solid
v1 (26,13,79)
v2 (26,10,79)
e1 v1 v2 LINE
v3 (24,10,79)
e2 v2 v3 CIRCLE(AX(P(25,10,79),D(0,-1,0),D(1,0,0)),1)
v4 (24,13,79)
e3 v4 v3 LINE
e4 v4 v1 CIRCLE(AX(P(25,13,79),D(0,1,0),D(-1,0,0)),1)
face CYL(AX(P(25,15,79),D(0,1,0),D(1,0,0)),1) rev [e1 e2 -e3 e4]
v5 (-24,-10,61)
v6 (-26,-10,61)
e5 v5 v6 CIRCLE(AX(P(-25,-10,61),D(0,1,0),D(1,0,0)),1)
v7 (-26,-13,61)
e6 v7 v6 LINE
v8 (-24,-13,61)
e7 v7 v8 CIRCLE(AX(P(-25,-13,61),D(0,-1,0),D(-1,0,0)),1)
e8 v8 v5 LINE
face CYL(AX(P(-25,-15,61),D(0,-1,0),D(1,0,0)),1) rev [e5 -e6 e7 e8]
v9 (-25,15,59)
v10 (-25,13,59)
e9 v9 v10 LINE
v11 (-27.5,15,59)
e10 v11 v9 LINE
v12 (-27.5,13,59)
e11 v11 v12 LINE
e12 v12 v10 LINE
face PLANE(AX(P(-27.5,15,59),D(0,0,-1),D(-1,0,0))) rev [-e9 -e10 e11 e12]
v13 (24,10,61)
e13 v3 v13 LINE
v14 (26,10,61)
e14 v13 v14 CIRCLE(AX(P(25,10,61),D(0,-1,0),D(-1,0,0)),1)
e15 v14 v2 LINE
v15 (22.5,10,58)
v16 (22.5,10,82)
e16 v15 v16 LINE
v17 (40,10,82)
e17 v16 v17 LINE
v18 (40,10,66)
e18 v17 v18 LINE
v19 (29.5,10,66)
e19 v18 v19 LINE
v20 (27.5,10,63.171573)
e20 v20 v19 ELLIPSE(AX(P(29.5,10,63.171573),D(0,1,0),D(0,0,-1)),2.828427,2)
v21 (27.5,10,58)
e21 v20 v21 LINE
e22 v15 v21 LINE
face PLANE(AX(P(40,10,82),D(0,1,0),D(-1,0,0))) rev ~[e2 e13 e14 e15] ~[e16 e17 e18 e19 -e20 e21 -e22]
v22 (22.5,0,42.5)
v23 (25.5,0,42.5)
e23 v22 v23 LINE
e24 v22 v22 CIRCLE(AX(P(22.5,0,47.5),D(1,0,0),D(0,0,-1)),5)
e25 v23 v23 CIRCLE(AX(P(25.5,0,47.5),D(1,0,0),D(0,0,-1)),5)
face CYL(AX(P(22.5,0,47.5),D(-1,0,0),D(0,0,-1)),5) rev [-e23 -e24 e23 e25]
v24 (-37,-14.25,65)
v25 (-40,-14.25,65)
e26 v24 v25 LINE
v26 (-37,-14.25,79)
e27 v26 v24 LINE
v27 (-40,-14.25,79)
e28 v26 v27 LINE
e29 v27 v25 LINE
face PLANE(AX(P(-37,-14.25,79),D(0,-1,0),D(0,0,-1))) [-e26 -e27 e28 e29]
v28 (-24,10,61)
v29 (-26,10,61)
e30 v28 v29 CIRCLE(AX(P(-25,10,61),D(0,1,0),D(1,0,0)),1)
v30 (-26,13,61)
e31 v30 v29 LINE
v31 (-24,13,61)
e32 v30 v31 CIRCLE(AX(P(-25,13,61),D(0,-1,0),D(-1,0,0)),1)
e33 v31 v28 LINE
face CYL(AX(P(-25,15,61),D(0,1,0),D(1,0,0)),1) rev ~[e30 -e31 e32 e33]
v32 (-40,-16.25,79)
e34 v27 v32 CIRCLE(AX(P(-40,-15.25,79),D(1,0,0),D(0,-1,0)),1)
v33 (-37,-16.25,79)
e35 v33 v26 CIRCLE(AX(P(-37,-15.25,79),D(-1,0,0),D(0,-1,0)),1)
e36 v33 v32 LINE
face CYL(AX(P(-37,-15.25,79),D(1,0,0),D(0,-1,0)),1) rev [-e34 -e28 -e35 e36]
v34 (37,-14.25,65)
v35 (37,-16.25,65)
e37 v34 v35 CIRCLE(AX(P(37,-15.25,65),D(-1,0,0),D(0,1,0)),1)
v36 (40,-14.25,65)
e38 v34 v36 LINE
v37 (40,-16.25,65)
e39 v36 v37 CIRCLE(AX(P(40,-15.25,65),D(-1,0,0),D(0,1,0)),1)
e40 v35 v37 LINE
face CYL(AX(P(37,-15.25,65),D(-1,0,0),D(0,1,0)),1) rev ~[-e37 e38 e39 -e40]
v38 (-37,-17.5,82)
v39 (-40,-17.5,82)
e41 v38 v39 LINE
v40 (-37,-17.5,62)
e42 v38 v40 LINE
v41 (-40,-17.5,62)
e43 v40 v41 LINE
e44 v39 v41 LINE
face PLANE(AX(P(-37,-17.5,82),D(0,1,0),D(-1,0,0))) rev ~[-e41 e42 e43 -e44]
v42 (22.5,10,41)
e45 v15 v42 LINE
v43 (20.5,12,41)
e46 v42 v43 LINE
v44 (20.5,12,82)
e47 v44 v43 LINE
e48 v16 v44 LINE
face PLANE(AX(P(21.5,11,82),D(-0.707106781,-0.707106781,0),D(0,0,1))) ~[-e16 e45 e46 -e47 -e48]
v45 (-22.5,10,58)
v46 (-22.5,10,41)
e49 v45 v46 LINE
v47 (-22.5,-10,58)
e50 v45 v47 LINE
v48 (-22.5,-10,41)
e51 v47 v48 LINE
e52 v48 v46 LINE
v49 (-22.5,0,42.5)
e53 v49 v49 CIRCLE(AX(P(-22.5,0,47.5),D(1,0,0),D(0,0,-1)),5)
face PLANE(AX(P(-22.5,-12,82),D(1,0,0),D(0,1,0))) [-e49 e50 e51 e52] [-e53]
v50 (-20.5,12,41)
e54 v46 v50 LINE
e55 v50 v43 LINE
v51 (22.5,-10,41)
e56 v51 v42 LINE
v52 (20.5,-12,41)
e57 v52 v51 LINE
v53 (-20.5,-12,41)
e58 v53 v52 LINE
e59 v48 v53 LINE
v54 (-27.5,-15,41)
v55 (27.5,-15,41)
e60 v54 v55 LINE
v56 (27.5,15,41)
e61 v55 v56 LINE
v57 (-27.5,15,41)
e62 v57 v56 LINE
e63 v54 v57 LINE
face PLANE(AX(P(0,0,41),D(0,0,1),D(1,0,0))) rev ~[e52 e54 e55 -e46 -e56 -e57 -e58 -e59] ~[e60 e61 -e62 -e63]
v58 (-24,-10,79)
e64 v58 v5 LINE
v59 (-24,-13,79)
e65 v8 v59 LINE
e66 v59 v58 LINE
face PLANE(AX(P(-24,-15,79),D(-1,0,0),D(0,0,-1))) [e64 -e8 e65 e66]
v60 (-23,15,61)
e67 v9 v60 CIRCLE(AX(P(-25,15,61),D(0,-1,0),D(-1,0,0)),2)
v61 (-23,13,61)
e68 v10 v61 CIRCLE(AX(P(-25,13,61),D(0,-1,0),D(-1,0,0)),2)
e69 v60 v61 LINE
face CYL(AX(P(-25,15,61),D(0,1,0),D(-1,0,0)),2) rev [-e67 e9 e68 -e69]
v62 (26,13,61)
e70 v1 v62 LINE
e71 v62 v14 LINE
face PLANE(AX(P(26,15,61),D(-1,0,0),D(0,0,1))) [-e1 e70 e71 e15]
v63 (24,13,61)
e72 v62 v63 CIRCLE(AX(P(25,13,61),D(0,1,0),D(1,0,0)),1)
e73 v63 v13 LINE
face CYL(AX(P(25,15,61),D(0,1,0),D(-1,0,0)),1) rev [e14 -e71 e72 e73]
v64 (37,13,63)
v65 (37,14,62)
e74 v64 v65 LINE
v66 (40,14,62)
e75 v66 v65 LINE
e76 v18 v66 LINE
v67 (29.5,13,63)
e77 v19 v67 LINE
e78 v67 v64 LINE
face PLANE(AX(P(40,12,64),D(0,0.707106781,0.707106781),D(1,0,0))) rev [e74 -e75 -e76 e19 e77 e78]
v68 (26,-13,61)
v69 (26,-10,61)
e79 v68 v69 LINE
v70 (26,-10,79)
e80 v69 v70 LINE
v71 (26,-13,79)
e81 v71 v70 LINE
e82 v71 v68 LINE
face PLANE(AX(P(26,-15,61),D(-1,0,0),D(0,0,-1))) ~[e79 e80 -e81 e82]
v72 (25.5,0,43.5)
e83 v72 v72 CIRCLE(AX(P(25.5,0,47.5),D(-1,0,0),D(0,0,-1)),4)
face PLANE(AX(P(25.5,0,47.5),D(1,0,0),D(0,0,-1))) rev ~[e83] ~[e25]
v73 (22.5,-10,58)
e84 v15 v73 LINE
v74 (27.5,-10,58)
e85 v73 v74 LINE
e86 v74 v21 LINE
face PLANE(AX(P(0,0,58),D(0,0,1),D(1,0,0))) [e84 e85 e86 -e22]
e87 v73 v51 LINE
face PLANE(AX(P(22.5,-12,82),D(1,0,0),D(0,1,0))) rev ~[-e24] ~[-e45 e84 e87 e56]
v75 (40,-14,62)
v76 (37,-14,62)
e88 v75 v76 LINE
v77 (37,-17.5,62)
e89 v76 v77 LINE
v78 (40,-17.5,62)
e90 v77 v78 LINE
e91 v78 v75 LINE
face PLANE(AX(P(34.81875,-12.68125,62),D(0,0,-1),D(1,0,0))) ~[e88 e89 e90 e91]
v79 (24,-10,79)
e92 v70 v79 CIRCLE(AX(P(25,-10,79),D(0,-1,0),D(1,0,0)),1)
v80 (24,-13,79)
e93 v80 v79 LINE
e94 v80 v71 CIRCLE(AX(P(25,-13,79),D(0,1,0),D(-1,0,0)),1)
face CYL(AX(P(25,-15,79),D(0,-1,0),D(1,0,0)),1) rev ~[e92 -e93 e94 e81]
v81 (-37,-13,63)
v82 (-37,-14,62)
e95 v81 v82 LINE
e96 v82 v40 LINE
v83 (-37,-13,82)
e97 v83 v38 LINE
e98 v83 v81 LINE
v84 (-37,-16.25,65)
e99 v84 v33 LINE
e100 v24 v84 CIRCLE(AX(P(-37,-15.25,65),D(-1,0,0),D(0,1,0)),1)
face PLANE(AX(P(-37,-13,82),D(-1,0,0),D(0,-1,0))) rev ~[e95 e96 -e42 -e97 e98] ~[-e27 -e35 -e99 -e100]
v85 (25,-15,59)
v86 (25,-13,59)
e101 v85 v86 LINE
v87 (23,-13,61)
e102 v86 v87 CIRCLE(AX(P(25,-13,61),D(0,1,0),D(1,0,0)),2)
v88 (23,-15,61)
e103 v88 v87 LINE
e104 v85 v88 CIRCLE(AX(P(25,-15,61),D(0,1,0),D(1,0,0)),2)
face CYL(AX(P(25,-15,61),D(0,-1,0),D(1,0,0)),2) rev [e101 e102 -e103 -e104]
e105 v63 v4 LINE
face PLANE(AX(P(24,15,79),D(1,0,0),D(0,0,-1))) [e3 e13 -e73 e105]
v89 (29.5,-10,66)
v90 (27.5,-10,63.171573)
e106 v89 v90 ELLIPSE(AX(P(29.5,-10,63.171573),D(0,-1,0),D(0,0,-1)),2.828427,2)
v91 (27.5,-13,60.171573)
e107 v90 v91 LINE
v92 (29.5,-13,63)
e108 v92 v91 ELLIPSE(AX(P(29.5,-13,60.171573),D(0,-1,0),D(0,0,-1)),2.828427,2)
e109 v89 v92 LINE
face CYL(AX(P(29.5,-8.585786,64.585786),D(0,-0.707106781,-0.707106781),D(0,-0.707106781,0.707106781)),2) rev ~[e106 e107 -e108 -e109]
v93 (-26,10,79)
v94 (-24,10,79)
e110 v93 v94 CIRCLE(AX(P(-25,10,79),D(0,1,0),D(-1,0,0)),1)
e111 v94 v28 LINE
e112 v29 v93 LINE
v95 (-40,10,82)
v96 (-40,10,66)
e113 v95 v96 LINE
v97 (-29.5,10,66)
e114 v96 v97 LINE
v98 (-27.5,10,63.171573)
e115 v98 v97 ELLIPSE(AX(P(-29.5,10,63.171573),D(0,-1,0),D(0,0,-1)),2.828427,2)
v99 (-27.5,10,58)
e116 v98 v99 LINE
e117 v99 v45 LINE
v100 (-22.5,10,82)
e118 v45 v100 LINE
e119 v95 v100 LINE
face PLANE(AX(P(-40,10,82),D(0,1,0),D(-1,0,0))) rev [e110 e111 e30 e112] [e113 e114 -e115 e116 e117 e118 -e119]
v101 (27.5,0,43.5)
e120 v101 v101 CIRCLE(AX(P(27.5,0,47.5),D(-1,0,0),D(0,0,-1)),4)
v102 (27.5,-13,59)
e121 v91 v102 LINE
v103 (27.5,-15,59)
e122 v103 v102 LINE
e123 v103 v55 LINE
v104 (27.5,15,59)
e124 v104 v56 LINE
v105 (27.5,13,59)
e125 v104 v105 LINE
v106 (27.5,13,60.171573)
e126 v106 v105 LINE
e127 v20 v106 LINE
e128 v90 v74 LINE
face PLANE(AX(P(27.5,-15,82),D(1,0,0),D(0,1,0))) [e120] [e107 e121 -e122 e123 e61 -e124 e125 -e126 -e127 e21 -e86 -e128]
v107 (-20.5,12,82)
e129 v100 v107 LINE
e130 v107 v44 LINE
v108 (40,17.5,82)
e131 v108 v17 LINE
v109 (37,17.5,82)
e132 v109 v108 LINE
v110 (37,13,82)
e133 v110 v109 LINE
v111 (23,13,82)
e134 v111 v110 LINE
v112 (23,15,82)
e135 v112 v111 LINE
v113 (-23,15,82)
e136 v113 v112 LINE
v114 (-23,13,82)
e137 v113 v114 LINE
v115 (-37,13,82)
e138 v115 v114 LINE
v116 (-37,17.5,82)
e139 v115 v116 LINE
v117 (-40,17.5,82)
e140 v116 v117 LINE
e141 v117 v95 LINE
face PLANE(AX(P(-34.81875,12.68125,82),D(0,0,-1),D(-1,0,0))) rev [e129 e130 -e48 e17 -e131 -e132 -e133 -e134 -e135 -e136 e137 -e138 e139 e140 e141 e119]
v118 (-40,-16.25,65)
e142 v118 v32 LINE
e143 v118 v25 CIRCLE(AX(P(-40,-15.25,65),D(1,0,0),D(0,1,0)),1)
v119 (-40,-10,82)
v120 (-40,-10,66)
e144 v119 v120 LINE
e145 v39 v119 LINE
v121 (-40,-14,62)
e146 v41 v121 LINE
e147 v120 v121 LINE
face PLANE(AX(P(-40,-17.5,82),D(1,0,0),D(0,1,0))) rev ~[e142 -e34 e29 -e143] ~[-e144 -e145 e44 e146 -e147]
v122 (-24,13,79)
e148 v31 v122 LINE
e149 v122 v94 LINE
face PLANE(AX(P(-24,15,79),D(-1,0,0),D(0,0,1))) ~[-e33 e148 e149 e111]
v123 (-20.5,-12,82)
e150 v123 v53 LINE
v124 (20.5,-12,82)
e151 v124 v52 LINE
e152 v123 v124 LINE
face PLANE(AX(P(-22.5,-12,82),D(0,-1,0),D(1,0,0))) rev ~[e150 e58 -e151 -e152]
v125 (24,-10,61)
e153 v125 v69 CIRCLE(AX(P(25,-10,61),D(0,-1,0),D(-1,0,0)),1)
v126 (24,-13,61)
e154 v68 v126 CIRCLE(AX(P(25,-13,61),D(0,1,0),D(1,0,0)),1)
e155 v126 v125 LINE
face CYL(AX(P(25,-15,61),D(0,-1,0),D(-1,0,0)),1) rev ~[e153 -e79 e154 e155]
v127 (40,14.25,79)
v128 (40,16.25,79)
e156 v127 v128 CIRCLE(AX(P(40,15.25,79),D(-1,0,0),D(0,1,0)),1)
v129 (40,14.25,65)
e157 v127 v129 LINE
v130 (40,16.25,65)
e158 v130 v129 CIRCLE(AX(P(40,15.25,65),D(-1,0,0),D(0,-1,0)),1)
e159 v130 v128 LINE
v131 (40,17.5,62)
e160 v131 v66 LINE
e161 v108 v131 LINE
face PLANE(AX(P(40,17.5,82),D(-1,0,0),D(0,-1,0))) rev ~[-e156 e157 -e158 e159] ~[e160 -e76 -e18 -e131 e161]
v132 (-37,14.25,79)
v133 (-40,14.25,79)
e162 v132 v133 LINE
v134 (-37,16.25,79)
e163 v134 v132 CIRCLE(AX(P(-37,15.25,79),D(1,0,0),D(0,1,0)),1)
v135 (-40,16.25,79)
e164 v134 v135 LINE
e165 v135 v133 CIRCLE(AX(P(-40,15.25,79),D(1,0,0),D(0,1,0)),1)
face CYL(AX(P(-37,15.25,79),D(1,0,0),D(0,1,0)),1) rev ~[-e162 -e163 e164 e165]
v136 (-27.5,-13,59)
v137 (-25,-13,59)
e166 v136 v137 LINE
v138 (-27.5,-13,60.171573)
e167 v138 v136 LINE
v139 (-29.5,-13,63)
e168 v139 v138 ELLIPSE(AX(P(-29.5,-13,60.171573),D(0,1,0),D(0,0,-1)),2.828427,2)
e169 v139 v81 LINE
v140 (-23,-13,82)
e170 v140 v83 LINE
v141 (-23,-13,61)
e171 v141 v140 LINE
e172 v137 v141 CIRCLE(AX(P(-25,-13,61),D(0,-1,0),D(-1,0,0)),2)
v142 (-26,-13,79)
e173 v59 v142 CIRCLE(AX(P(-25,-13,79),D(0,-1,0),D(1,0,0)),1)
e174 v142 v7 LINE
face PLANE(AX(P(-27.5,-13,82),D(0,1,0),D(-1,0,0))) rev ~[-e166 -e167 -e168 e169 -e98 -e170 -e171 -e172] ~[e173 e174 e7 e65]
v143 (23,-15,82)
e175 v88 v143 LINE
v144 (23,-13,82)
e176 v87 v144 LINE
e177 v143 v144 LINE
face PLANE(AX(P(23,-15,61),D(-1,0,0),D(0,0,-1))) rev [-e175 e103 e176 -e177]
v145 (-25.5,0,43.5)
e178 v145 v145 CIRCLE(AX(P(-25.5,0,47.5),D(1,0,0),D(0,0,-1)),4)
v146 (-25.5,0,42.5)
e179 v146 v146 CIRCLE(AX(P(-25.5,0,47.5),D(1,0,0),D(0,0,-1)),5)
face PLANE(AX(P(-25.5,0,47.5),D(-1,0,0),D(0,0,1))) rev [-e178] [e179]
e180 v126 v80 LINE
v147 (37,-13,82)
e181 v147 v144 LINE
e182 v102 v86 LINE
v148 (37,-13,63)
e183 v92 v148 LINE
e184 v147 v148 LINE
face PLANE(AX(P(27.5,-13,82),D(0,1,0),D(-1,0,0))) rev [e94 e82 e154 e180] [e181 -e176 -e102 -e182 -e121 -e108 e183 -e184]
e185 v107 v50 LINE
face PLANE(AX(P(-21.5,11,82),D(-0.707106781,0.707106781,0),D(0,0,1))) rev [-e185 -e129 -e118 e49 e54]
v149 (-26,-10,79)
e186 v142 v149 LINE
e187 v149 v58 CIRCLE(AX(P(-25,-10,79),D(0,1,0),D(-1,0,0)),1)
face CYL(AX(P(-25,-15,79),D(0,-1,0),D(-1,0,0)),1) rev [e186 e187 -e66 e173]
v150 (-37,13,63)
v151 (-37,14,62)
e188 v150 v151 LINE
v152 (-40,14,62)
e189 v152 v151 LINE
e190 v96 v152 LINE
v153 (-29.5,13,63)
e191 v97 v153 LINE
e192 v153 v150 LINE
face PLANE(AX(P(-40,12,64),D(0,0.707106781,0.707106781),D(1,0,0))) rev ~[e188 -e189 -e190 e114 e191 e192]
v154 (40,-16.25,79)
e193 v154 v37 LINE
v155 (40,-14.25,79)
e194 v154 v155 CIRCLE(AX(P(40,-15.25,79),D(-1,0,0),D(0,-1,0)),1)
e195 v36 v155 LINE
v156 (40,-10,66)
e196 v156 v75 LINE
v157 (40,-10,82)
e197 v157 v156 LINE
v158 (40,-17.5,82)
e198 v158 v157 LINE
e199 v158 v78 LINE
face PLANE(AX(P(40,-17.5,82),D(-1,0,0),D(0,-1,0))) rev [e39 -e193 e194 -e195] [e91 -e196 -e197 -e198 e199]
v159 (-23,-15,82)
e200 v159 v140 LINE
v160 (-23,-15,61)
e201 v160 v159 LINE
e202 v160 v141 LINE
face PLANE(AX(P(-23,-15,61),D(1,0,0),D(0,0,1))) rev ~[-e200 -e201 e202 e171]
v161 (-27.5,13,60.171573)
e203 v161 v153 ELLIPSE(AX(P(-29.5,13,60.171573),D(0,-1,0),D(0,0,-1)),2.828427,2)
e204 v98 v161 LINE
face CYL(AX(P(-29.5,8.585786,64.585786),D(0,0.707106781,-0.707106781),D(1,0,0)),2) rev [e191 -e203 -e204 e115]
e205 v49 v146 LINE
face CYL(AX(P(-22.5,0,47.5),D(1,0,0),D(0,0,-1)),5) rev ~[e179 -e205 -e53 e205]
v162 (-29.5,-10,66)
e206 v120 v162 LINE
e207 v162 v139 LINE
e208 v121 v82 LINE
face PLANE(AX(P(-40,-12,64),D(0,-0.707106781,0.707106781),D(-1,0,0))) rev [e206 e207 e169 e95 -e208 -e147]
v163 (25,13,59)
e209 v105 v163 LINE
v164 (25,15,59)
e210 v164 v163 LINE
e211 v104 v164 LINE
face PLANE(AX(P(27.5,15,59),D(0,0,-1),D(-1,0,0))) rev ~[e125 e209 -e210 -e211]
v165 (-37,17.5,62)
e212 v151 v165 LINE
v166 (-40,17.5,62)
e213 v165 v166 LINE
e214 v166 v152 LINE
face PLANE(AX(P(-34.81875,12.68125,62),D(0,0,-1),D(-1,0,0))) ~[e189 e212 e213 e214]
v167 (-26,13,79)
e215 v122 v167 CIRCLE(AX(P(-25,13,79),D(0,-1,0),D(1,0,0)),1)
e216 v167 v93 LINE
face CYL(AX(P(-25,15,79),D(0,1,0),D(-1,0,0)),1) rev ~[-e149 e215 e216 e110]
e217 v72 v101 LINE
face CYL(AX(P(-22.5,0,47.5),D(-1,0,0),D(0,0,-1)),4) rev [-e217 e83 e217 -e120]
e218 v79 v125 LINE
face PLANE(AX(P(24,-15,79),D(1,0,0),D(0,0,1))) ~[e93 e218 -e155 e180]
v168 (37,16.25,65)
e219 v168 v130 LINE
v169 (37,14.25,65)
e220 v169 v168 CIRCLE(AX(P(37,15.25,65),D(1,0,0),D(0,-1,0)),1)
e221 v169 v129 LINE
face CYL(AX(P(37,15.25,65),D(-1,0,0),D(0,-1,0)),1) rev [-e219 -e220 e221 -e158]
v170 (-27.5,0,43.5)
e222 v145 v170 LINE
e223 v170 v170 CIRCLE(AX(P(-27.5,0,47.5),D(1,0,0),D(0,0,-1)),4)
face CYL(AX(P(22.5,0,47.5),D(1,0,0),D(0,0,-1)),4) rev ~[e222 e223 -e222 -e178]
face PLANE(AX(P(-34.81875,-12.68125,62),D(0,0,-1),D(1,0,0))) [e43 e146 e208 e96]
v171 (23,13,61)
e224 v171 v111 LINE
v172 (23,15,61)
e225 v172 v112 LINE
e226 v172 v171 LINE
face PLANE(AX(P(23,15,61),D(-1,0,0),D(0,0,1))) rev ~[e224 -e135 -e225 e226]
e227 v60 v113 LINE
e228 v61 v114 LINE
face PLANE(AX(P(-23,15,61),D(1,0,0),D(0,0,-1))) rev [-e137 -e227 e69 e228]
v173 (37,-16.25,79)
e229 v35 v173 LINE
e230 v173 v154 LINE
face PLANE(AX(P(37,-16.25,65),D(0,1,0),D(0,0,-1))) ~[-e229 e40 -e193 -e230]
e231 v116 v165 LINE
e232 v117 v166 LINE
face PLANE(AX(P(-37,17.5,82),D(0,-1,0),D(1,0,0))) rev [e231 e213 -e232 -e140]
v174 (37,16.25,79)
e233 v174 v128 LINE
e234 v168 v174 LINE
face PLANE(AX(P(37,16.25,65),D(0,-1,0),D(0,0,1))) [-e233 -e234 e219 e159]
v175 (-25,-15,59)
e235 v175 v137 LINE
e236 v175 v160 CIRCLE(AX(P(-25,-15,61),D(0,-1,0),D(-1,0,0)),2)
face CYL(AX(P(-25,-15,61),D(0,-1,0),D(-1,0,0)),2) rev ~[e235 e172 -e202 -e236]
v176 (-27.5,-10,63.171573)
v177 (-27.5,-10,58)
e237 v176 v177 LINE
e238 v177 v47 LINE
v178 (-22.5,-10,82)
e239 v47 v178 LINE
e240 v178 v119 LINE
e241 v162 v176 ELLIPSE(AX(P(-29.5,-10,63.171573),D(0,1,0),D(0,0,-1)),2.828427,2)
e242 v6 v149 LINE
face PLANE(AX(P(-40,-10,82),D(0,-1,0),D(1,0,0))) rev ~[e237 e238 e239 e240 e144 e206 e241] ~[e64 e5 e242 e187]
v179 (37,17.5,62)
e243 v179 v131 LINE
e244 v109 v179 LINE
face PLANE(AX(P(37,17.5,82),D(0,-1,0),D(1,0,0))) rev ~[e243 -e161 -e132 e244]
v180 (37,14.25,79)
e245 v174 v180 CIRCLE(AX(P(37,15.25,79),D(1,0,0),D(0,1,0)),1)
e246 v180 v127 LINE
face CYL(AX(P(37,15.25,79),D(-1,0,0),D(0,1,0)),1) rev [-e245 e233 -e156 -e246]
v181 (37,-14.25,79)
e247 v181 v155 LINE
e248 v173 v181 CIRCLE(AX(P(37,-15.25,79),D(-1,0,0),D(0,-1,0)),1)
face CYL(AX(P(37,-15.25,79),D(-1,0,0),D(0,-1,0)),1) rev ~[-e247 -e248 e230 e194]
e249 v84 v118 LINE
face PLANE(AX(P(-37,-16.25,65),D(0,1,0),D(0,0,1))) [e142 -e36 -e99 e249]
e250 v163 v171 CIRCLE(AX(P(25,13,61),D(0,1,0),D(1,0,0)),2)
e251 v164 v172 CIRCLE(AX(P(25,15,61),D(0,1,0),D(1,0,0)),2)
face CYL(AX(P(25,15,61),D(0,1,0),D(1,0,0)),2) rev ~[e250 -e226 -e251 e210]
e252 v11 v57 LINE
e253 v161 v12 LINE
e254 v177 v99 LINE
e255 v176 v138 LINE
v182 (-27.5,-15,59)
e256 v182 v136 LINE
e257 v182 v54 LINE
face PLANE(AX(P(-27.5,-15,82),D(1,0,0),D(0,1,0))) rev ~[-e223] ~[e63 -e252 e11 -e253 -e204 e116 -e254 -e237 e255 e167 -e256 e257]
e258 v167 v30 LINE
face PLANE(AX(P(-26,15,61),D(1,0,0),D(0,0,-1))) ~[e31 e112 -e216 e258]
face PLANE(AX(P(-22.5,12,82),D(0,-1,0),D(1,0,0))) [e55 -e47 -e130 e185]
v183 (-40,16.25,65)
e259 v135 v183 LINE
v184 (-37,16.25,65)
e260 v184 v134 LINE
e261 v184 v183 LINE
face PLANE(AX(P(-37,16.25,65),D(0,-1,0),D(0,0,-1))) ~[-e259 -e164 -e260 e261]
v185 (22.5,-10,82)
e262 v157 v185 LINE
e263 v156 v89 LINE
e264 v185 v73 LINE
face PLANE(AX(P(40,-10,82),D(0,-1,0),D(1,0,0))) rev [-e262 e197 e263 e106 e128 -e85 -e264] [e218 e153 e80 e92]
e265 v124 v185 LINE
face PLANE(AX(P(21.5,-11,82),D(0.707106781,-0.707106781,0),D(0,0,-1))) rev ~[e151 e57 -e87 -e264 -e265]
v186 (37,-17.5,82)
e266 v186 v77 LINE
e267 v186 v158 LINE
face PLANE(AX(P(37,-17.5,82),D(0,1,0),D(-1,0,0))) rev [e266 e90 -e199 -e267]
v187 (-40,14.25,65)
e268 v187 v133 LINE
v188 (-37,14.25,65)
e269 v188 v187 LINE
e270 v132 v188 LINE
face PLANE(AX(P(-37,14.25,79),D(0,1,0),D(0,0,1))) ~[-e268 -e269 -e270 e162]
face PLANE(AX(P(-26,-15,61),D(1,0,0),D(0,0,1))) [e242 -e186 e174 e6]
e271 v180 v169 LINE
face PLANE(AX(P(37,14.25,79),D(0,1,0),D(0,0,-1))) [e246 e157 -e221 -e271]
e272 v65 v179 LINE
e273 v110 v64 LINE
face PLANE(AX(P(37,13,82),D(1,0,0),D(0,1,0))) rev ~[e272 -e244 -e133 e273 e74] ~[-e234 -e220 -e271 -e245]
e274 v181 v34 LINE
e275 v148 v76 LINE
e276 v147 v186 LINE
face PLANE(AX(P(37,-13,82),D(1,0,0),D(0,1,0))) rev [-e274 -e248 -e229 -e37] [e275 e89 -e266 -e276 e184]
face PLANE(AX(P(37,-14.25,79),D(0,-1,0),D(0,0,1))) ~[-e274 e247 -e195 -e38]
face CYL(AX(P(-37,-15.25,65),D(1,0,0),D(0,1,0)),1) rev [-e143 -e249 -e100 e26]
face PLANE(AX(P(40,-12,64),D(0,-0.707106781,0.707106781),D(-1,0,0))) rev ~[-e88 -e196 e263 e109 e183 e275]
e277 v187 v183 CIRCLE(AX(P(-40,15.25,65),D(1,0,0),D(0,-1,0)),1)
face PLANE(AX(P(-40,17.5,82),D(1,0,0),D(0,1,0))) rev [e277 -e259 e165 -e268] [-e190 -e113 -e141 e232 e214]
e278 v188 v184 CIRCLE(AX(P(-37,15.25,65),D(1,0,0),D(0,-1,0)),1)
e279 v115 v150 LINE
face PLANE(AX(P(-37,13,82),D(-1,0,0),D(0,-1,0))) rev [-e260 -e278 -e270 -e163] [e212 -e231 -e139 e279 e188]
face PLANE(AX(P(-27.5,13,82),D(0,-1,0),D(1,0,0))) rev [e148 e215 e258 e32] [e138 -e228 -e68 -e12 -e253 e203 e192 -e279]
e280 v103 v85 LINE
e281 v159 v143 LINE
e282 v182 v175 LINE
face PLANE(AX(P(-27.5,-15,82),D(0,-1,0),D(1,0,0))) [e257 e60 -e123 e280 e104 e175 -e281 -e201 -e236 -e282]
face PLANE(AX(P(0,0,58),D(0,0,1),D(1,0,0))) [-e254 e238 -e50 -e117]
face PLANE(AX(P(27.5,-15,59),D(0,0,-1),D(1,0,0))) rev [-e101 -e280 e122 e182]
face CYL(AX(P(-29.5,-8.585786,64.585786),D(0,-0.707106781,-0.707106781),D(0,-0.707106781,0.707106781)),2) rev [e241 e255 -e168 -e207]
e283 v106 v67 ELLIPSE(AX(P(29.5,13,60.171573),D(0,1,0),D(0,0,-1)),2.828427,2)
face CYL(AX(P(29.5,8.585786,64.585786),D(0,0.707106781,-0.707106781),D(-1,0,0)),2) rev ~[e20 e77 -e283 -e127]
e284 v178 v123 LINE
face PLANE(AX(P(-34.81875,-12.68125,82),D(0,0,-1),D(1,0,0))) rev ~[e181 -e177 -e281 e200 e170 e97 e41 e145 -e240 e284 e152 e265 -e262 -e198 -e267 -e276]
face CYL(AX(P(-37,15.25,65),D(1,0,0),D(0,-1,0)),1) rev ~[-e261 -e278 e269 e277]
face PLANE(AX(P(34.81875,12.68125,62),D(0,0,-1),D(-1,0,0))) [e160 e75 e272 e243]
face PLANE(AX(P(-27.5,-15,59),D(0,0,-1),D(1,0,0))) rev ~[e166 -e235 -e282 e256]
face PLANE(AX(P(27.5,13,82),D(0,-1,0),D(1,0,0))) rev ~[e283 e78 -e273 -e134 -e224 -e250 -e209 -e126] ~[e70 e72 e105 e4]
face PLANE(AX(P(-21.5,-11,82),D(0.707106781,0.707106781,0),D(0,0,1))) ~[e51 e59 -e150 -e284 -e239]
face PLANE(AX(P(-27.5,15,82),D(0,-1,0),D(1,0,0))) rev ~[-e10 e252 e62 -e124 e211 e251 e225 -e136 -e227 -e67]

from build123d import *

# Parameters (mm, degrees)
SKIZZE2_W                       = 55
SKIZZE2_H                       = 30
SKIZZE2_W_2                     = 45
SKIZZE2_H_2                     = 24
AUFSATZ_LINEAR_AUSTRAGEN1_DEPTH = 41
SKIZZE5_W                       = 55
SKIZZE5_H                       = 20
SCHNITT_LINEAR_AUSTRAGEN3_DEPTH = 24
SKIZZE4_R                       = 4
SCHNITT_LINEAR_AUSTRAGEN1_DEPTH = 51
SKIZZE4_3_R                     = 5
SCHNITT_LINEAR_AUSTRAGEN2_DEPTH = 3
SCHNITT_LINEAR_AUSTRAGEN4_DEPTH = 5
SCHNITT_LINEAR_AUSTRAGEN5_DEPTH = 2
AUFSATZ_LINEAR_AUSTRAGEN2_DEPTH = 20
SCHNITT_LINEAR_AUSTRAGEN6_DEPTH = 4
SPIEGELN1_COPY_1_DEPTH          = 5
SPIEGELN1_COPY_2_DEPTH          = 2
SPIEGELN1_COPY_3_DEPTH          = 20
SPIEGELN1_COPY_4_DEPTH          = 4
FASE2_SIZE                      = 2
FASE3_SIZE                      = 4
VERRUNDUNG1_R                   = 2


with BuildPart() as part:
    # Skizze2 → Aufsatz-Linear austragen1 (new body)
    with BuildSketch(Plane.XY.offset(82)):
        Rectangle(SKIZZE2_W, SKIZZE2_H)
        Rectangle(SKIZZE2_W_2, SKIZZE2_H_2, mode=Mode.SUBTRACT)
    extrude(amount=-AUFSATZ_LINEAR_AUSTRAGEN1_DEPTH)

    # Skizze5 → Schnitt-Linear austragen3 (cut)
    with BuildSketch(Plane.XY.offset(82)):
        Rectangle(SKIZZE5_W, SKIZZE5_H)
    extrude(amount=-SCHNITT_LINEAR_AUSTRAGEN3_DEPTH, mode=Mode.SUBTRACT)

    # Skizze4 → Schnitt-Linear austragen1 (cut, through all)
    with BuildSketch(Plane(origin=(22.5, 0, 0), x_dir=(0, 0, -1), z_dir=(1, 0, 0))):
        with Locations((-47.5, 0)):
            Circle(SKIZZE4_R)
    schnitt_linear_austragen1 = extrude(amount=-SCHNITT_LINEAR_AUSTRAGEN1_DEPTH, mode=Mode.SUBTRACT)

    # Skizze4<3> → Schnitt-Linear austragen2 (cut)
    with BuildSketch(Plane(origin=(22.5, 0, 0), x_dir=(0, 0, -1), z_dir=(1, 0, 0))):
        with Locations((-47.5, 0)):
            Circle(SKIZZE4_3_R)
    schnitt_linear_austragen2 = extrude(amount=SCHNITT_LINEAR_AUSTRAGEN2_DEPTH, mode=Mode.SUBTRACT)

    # Skizze6 → Schnitt-Linear austragen4 (cut)
    with BuildSketch(Plane(origin=(0, 15, 0), x_dir=(1, 0, 0), z_dir=(0, 1, 0))):
        with BuildLine():
            Line((26, -61), (26, -79))
            ThreePointArc((26, -79), (25, -80), (24, -79))
            Line((24, -79), (24, -61))
            ThreePointArc((24, -61), (25, -60), (26, -61))
        make_face()
    schnitt_linear_austragen4 = extrude(amount=-SCHNITT_LINEAR_AUSTRAGEN4_DEPTH, mode=Mode.SUBTRACT)

    # Skizze6<3> → Schnitt-Linear austragen5 (cut)
    with BuildSketch(Plane(origin=(0, 15, 0), x_dir=(1, 0, 0), z_dir=(0, 1, 0))):
        with BuildLine():
            Line((23, -61), (23, -79))
            ThreePointArc((23, -79), (25, -81), (27, -79))
            Line((27, -79), (27, -61))
            ThreePointArc((27, -61), (25, -59), (23, -61))
        make_face()
        with BuildLine():
            ThreePointArc((24, -79), (25, -80), (26, -79))
            Line((26, -79), (26, -61))
            ThreePointArc((26, -61), (25, -60), (24, -61))
            Line((24, -61), (24, -79))
        make_face(mode=Mode.SUBTRACT)
        with BuildLine():
            ThreePointArc((25, -59), (26.414213562, -59.585786438), (27, -61))
            Line((27, -61), (27, -79))
            ThreePointArc((27, -79), (25, -81), (23, -79))
            Line((23, -79), (23, -82))
            Line((23, -82), (27.5, -82))
            Line((27.5, -82), (27.5, -59))
            Line((27.5, -59), (25, -59))
        make_face()
    schnitt_linear_austragen5 = extrude(amount=-SCHNITT_LINEAR_AUSTRAGEN5_DEPTH, mode=Mode.SUBTRACT)

    # Skizze8 → Aufsatz-Linear austragen2 (add)
    with BuildSketch(Plane.XY.offset(82)):
        Polygon((27.5, 13), (37, 13), (37, 17.5), (40, 17.5), (40, 10), (27.5, 10), align=None)
    aufsatz_linear_austragen2 = extrude(amount=-AUFSATZ_LINEAR_AUSTRAGEN2_DEPTH)

    # Skizze9 → Schnitt-Linear austragen6 (cut, through all)
    with BuildSketch(Plane.ZY.offset(-37)):
        with BuildLine():
            Line((65, 16.25), (79, 16.25))
            ThreePointArc((79, 16.25), (80, 15.25), (79, 14.25))
            Line((79, 14.25), (65, 14.25))
            ThreePointArc((65, 14.25), (64, 15.25), (65, 16.25))
        make_face()
    schnitt_linear_austragen6 = extrude(amount=-SCHNITT_LINEAR_AUSTRAGEN6_DEPTH, mode=Mode.SUBTRACT)

    # Spiegeln2: Schnitt-Linear austragen4, Schnitt-Linear austragen5, Aufsatz-Linear austragen2, Schnitt-Linear austragen6 across plane
    add(schnitt_linear_austragen4.mirror(Plane.ZX), mode=Mode.SUBTRACT)
    add(schnitt_linear_austragen5.mirror(Plane.ZX), mode=Mode.SUBTRACT)
    add(aufsatz_linear_austragen2.mirror(Plane.ZX))
    add(schnitt_linear_austragen6.mirror(Plane.ZX), mode=Mode.SUBTRACT)

    # Spiegeln1: Schnitt-Linear austragen2, Schnitt-Linear austragen1, Schnitt-Linear austragen4, Schnitt-Linear austragen5, Aufsatz-Linear austragen2, Schnitt-Linear austragen6 across plane
    add(schnitt_linear_austragen2.mirror(Plane(origin=(0, 0, 0), x_dir=(0, 0, 1), z_dir=(1, 0, 0))), mode=Mode.SUBTRACT)
    add(schnitt_linear_austragen1.mirror(Plane(origin=(0, 0, 0), x_dir=(0, 0, 1), z_dir=(1, 0, 0))), mode=Mode.SUBTRACT)
    add(schnitt_linear_austragen4.mirror(Plane(origin=(0, 0, 0), x_dir=(0, 0, 1), z_dir=(1, 0, 0))), mode=Mode.SUBTRACT)
    add(schnitt_linear_austragen5.mirror(Plane(origin=(0, 0, 0), x_dir=(0, 0, 1), z_dir=(1, 0, 0))), mode=Mode.SUBTRACT)
    add(aufsatz_linear_austragen2.mirror(Plane(origin=(0, 0, 0), x_dir=(0, 0, 1), z_dir=(1, 0, 0))))
    add(schnitt_linear_austragen6.mirror(Plane(origin=(0, 0, 0), x_dir=(0, 0, 1), z_dir=(1, 0, 0))), mode=Mode.SUBTRACT)

    # Spiegeln1 copy 1 sketch → Spiegeln1 copy 1 (cut)
    with BuildSketch(Plane(origin=(0, -15, 0), x_dir=(-1, 0, 0), z_dir=(0, -1, 0))):
        with BuildLine():
            Line((26, -61), (26, -79))
            ThreePointArc((26, -79), (25, -80), (24, -79))
            Line((24, -79), (24, -61))
            ThreePointArc((24, -61), (25, -60), (26, -61))
        make_face()
    extrude(amount=-SPIEGELN1_COPY_1_DEPTH, mode=Mode.SUBTRACT)

    # Spiegeln1 copy 2 sketch → Spiegeln1 copy 2 (cut)
    with BuildSketch(Plane(origin=(0, -15, 0), x_dir=(-1, 0, 0), z_dir=(0, -1, 0))):
        with BuildLine():
            Line((23, -61), (23, -79))
            ThreePointArc((23, -79), (25, -81), (27, -79))
            Line((27, -79), (27, -61))
            ThreePointArc((27, -61), (25, -59), (23, -61))
        make_face()
        with BuildLine():
            ThreePointArc((24, -79), (25, -80), (26, -79))
            Line((26, -79), (26, -61))
            ThreePointArc((26, -61), (25, -60), (24, -61))
            Line((24, -61), (24, -79))
        make_face(mode=Mode.SUBTRACT)
        with BuildLine():
            ThreePointArc((25, -59), (26.414213562, -59.585786438), (27, -61))
            Line((27, -61), (27, -79))
            ThreePointArc((27, -79), (25, -81), (23, -79))
            Line((23, -79), (23, -82))
            Line((23, -82), (27.5, -82))
            Line((27.5, -82), (27.5, -59))
            Line((27.5, -59), (25, -59))
        make_face()
    extrude(amount=-SPIEGELN1_COPY_2_DEPTH, mode=Mode.SUBTRACT)

    # Spiegeln1 copy 3 sketch → Spiegeln1 copy 3 (add)
    with BuildSketch(Plane(origin=(0, 0, 82), x_dir=(-1, 0, 0), z_dir=(0, 0, 1))):
        Polygon((27.5, 13), (37, 13), (37, 17.5), (40, 17.5), (40, 10), (27.5, 10), align=None)
    extrude(amount=-SPIEGELN1_COPY_3_DEPTH)

    # Spiegeln1 copy 4 sketch → Spiegeln1 copy 4 (cut, through all)
    with BuildSketch(Plane(origin=(-37, 0, 0), x_dir=(0, 0, 1), z_dir=(1, 0, 0))):
        with BuildLine():
            Line((65, 16.25), (79, 16.25))
            ThreePointArc((79, 16.25), (80, 15.25), (79, 14.25))
            Line((79, 14.25), (65, 14.25))
            ThreePointArc((65, 14.25), (64, 15.25), (65, 16.25))
        make_face()
    extrude(amount=-SPIEGELN1_COPY_4_DEPTH, mode=Mode.SUBTRACT)

    # Fase2
    fase2_edges = [part.edges().sort_by_distance(p)[0] for p in [
        (-22.5, 12, 61.5),
        (-22.5, -12, 61.5),
        (22.5, -12, 61.5),
        (22.5, 12, 61.5),
    ]]
    chamfer(fase2_edges, length=FASE2_SIZE)

    # Fase3
    fase3_edges = [part.edges().sort_by_distance(p)[0] for p in [
        (-33.75, 10, 62),
        (-33.75, -10, 62),
        (33.75, -10, 62),
        (33.75, 10, 62),
    ]]
    chamfer(fase3_edges, length=FASE3_SIZE)

    # Verrundung1
    verrundung1_edges = [part.edges().sort_by_distance(p)[0] for p in [
        (-27.5, 11.5, 64.5),
        (-27.5, -11.5, 64.5),
        (27.5, -11.5, 64.5),
        (27.5, 11.5, 64.5),
    ]]
    fillet(verrundung1_edges, radius=VERRUNDUNG1_R)


solid = part.part
